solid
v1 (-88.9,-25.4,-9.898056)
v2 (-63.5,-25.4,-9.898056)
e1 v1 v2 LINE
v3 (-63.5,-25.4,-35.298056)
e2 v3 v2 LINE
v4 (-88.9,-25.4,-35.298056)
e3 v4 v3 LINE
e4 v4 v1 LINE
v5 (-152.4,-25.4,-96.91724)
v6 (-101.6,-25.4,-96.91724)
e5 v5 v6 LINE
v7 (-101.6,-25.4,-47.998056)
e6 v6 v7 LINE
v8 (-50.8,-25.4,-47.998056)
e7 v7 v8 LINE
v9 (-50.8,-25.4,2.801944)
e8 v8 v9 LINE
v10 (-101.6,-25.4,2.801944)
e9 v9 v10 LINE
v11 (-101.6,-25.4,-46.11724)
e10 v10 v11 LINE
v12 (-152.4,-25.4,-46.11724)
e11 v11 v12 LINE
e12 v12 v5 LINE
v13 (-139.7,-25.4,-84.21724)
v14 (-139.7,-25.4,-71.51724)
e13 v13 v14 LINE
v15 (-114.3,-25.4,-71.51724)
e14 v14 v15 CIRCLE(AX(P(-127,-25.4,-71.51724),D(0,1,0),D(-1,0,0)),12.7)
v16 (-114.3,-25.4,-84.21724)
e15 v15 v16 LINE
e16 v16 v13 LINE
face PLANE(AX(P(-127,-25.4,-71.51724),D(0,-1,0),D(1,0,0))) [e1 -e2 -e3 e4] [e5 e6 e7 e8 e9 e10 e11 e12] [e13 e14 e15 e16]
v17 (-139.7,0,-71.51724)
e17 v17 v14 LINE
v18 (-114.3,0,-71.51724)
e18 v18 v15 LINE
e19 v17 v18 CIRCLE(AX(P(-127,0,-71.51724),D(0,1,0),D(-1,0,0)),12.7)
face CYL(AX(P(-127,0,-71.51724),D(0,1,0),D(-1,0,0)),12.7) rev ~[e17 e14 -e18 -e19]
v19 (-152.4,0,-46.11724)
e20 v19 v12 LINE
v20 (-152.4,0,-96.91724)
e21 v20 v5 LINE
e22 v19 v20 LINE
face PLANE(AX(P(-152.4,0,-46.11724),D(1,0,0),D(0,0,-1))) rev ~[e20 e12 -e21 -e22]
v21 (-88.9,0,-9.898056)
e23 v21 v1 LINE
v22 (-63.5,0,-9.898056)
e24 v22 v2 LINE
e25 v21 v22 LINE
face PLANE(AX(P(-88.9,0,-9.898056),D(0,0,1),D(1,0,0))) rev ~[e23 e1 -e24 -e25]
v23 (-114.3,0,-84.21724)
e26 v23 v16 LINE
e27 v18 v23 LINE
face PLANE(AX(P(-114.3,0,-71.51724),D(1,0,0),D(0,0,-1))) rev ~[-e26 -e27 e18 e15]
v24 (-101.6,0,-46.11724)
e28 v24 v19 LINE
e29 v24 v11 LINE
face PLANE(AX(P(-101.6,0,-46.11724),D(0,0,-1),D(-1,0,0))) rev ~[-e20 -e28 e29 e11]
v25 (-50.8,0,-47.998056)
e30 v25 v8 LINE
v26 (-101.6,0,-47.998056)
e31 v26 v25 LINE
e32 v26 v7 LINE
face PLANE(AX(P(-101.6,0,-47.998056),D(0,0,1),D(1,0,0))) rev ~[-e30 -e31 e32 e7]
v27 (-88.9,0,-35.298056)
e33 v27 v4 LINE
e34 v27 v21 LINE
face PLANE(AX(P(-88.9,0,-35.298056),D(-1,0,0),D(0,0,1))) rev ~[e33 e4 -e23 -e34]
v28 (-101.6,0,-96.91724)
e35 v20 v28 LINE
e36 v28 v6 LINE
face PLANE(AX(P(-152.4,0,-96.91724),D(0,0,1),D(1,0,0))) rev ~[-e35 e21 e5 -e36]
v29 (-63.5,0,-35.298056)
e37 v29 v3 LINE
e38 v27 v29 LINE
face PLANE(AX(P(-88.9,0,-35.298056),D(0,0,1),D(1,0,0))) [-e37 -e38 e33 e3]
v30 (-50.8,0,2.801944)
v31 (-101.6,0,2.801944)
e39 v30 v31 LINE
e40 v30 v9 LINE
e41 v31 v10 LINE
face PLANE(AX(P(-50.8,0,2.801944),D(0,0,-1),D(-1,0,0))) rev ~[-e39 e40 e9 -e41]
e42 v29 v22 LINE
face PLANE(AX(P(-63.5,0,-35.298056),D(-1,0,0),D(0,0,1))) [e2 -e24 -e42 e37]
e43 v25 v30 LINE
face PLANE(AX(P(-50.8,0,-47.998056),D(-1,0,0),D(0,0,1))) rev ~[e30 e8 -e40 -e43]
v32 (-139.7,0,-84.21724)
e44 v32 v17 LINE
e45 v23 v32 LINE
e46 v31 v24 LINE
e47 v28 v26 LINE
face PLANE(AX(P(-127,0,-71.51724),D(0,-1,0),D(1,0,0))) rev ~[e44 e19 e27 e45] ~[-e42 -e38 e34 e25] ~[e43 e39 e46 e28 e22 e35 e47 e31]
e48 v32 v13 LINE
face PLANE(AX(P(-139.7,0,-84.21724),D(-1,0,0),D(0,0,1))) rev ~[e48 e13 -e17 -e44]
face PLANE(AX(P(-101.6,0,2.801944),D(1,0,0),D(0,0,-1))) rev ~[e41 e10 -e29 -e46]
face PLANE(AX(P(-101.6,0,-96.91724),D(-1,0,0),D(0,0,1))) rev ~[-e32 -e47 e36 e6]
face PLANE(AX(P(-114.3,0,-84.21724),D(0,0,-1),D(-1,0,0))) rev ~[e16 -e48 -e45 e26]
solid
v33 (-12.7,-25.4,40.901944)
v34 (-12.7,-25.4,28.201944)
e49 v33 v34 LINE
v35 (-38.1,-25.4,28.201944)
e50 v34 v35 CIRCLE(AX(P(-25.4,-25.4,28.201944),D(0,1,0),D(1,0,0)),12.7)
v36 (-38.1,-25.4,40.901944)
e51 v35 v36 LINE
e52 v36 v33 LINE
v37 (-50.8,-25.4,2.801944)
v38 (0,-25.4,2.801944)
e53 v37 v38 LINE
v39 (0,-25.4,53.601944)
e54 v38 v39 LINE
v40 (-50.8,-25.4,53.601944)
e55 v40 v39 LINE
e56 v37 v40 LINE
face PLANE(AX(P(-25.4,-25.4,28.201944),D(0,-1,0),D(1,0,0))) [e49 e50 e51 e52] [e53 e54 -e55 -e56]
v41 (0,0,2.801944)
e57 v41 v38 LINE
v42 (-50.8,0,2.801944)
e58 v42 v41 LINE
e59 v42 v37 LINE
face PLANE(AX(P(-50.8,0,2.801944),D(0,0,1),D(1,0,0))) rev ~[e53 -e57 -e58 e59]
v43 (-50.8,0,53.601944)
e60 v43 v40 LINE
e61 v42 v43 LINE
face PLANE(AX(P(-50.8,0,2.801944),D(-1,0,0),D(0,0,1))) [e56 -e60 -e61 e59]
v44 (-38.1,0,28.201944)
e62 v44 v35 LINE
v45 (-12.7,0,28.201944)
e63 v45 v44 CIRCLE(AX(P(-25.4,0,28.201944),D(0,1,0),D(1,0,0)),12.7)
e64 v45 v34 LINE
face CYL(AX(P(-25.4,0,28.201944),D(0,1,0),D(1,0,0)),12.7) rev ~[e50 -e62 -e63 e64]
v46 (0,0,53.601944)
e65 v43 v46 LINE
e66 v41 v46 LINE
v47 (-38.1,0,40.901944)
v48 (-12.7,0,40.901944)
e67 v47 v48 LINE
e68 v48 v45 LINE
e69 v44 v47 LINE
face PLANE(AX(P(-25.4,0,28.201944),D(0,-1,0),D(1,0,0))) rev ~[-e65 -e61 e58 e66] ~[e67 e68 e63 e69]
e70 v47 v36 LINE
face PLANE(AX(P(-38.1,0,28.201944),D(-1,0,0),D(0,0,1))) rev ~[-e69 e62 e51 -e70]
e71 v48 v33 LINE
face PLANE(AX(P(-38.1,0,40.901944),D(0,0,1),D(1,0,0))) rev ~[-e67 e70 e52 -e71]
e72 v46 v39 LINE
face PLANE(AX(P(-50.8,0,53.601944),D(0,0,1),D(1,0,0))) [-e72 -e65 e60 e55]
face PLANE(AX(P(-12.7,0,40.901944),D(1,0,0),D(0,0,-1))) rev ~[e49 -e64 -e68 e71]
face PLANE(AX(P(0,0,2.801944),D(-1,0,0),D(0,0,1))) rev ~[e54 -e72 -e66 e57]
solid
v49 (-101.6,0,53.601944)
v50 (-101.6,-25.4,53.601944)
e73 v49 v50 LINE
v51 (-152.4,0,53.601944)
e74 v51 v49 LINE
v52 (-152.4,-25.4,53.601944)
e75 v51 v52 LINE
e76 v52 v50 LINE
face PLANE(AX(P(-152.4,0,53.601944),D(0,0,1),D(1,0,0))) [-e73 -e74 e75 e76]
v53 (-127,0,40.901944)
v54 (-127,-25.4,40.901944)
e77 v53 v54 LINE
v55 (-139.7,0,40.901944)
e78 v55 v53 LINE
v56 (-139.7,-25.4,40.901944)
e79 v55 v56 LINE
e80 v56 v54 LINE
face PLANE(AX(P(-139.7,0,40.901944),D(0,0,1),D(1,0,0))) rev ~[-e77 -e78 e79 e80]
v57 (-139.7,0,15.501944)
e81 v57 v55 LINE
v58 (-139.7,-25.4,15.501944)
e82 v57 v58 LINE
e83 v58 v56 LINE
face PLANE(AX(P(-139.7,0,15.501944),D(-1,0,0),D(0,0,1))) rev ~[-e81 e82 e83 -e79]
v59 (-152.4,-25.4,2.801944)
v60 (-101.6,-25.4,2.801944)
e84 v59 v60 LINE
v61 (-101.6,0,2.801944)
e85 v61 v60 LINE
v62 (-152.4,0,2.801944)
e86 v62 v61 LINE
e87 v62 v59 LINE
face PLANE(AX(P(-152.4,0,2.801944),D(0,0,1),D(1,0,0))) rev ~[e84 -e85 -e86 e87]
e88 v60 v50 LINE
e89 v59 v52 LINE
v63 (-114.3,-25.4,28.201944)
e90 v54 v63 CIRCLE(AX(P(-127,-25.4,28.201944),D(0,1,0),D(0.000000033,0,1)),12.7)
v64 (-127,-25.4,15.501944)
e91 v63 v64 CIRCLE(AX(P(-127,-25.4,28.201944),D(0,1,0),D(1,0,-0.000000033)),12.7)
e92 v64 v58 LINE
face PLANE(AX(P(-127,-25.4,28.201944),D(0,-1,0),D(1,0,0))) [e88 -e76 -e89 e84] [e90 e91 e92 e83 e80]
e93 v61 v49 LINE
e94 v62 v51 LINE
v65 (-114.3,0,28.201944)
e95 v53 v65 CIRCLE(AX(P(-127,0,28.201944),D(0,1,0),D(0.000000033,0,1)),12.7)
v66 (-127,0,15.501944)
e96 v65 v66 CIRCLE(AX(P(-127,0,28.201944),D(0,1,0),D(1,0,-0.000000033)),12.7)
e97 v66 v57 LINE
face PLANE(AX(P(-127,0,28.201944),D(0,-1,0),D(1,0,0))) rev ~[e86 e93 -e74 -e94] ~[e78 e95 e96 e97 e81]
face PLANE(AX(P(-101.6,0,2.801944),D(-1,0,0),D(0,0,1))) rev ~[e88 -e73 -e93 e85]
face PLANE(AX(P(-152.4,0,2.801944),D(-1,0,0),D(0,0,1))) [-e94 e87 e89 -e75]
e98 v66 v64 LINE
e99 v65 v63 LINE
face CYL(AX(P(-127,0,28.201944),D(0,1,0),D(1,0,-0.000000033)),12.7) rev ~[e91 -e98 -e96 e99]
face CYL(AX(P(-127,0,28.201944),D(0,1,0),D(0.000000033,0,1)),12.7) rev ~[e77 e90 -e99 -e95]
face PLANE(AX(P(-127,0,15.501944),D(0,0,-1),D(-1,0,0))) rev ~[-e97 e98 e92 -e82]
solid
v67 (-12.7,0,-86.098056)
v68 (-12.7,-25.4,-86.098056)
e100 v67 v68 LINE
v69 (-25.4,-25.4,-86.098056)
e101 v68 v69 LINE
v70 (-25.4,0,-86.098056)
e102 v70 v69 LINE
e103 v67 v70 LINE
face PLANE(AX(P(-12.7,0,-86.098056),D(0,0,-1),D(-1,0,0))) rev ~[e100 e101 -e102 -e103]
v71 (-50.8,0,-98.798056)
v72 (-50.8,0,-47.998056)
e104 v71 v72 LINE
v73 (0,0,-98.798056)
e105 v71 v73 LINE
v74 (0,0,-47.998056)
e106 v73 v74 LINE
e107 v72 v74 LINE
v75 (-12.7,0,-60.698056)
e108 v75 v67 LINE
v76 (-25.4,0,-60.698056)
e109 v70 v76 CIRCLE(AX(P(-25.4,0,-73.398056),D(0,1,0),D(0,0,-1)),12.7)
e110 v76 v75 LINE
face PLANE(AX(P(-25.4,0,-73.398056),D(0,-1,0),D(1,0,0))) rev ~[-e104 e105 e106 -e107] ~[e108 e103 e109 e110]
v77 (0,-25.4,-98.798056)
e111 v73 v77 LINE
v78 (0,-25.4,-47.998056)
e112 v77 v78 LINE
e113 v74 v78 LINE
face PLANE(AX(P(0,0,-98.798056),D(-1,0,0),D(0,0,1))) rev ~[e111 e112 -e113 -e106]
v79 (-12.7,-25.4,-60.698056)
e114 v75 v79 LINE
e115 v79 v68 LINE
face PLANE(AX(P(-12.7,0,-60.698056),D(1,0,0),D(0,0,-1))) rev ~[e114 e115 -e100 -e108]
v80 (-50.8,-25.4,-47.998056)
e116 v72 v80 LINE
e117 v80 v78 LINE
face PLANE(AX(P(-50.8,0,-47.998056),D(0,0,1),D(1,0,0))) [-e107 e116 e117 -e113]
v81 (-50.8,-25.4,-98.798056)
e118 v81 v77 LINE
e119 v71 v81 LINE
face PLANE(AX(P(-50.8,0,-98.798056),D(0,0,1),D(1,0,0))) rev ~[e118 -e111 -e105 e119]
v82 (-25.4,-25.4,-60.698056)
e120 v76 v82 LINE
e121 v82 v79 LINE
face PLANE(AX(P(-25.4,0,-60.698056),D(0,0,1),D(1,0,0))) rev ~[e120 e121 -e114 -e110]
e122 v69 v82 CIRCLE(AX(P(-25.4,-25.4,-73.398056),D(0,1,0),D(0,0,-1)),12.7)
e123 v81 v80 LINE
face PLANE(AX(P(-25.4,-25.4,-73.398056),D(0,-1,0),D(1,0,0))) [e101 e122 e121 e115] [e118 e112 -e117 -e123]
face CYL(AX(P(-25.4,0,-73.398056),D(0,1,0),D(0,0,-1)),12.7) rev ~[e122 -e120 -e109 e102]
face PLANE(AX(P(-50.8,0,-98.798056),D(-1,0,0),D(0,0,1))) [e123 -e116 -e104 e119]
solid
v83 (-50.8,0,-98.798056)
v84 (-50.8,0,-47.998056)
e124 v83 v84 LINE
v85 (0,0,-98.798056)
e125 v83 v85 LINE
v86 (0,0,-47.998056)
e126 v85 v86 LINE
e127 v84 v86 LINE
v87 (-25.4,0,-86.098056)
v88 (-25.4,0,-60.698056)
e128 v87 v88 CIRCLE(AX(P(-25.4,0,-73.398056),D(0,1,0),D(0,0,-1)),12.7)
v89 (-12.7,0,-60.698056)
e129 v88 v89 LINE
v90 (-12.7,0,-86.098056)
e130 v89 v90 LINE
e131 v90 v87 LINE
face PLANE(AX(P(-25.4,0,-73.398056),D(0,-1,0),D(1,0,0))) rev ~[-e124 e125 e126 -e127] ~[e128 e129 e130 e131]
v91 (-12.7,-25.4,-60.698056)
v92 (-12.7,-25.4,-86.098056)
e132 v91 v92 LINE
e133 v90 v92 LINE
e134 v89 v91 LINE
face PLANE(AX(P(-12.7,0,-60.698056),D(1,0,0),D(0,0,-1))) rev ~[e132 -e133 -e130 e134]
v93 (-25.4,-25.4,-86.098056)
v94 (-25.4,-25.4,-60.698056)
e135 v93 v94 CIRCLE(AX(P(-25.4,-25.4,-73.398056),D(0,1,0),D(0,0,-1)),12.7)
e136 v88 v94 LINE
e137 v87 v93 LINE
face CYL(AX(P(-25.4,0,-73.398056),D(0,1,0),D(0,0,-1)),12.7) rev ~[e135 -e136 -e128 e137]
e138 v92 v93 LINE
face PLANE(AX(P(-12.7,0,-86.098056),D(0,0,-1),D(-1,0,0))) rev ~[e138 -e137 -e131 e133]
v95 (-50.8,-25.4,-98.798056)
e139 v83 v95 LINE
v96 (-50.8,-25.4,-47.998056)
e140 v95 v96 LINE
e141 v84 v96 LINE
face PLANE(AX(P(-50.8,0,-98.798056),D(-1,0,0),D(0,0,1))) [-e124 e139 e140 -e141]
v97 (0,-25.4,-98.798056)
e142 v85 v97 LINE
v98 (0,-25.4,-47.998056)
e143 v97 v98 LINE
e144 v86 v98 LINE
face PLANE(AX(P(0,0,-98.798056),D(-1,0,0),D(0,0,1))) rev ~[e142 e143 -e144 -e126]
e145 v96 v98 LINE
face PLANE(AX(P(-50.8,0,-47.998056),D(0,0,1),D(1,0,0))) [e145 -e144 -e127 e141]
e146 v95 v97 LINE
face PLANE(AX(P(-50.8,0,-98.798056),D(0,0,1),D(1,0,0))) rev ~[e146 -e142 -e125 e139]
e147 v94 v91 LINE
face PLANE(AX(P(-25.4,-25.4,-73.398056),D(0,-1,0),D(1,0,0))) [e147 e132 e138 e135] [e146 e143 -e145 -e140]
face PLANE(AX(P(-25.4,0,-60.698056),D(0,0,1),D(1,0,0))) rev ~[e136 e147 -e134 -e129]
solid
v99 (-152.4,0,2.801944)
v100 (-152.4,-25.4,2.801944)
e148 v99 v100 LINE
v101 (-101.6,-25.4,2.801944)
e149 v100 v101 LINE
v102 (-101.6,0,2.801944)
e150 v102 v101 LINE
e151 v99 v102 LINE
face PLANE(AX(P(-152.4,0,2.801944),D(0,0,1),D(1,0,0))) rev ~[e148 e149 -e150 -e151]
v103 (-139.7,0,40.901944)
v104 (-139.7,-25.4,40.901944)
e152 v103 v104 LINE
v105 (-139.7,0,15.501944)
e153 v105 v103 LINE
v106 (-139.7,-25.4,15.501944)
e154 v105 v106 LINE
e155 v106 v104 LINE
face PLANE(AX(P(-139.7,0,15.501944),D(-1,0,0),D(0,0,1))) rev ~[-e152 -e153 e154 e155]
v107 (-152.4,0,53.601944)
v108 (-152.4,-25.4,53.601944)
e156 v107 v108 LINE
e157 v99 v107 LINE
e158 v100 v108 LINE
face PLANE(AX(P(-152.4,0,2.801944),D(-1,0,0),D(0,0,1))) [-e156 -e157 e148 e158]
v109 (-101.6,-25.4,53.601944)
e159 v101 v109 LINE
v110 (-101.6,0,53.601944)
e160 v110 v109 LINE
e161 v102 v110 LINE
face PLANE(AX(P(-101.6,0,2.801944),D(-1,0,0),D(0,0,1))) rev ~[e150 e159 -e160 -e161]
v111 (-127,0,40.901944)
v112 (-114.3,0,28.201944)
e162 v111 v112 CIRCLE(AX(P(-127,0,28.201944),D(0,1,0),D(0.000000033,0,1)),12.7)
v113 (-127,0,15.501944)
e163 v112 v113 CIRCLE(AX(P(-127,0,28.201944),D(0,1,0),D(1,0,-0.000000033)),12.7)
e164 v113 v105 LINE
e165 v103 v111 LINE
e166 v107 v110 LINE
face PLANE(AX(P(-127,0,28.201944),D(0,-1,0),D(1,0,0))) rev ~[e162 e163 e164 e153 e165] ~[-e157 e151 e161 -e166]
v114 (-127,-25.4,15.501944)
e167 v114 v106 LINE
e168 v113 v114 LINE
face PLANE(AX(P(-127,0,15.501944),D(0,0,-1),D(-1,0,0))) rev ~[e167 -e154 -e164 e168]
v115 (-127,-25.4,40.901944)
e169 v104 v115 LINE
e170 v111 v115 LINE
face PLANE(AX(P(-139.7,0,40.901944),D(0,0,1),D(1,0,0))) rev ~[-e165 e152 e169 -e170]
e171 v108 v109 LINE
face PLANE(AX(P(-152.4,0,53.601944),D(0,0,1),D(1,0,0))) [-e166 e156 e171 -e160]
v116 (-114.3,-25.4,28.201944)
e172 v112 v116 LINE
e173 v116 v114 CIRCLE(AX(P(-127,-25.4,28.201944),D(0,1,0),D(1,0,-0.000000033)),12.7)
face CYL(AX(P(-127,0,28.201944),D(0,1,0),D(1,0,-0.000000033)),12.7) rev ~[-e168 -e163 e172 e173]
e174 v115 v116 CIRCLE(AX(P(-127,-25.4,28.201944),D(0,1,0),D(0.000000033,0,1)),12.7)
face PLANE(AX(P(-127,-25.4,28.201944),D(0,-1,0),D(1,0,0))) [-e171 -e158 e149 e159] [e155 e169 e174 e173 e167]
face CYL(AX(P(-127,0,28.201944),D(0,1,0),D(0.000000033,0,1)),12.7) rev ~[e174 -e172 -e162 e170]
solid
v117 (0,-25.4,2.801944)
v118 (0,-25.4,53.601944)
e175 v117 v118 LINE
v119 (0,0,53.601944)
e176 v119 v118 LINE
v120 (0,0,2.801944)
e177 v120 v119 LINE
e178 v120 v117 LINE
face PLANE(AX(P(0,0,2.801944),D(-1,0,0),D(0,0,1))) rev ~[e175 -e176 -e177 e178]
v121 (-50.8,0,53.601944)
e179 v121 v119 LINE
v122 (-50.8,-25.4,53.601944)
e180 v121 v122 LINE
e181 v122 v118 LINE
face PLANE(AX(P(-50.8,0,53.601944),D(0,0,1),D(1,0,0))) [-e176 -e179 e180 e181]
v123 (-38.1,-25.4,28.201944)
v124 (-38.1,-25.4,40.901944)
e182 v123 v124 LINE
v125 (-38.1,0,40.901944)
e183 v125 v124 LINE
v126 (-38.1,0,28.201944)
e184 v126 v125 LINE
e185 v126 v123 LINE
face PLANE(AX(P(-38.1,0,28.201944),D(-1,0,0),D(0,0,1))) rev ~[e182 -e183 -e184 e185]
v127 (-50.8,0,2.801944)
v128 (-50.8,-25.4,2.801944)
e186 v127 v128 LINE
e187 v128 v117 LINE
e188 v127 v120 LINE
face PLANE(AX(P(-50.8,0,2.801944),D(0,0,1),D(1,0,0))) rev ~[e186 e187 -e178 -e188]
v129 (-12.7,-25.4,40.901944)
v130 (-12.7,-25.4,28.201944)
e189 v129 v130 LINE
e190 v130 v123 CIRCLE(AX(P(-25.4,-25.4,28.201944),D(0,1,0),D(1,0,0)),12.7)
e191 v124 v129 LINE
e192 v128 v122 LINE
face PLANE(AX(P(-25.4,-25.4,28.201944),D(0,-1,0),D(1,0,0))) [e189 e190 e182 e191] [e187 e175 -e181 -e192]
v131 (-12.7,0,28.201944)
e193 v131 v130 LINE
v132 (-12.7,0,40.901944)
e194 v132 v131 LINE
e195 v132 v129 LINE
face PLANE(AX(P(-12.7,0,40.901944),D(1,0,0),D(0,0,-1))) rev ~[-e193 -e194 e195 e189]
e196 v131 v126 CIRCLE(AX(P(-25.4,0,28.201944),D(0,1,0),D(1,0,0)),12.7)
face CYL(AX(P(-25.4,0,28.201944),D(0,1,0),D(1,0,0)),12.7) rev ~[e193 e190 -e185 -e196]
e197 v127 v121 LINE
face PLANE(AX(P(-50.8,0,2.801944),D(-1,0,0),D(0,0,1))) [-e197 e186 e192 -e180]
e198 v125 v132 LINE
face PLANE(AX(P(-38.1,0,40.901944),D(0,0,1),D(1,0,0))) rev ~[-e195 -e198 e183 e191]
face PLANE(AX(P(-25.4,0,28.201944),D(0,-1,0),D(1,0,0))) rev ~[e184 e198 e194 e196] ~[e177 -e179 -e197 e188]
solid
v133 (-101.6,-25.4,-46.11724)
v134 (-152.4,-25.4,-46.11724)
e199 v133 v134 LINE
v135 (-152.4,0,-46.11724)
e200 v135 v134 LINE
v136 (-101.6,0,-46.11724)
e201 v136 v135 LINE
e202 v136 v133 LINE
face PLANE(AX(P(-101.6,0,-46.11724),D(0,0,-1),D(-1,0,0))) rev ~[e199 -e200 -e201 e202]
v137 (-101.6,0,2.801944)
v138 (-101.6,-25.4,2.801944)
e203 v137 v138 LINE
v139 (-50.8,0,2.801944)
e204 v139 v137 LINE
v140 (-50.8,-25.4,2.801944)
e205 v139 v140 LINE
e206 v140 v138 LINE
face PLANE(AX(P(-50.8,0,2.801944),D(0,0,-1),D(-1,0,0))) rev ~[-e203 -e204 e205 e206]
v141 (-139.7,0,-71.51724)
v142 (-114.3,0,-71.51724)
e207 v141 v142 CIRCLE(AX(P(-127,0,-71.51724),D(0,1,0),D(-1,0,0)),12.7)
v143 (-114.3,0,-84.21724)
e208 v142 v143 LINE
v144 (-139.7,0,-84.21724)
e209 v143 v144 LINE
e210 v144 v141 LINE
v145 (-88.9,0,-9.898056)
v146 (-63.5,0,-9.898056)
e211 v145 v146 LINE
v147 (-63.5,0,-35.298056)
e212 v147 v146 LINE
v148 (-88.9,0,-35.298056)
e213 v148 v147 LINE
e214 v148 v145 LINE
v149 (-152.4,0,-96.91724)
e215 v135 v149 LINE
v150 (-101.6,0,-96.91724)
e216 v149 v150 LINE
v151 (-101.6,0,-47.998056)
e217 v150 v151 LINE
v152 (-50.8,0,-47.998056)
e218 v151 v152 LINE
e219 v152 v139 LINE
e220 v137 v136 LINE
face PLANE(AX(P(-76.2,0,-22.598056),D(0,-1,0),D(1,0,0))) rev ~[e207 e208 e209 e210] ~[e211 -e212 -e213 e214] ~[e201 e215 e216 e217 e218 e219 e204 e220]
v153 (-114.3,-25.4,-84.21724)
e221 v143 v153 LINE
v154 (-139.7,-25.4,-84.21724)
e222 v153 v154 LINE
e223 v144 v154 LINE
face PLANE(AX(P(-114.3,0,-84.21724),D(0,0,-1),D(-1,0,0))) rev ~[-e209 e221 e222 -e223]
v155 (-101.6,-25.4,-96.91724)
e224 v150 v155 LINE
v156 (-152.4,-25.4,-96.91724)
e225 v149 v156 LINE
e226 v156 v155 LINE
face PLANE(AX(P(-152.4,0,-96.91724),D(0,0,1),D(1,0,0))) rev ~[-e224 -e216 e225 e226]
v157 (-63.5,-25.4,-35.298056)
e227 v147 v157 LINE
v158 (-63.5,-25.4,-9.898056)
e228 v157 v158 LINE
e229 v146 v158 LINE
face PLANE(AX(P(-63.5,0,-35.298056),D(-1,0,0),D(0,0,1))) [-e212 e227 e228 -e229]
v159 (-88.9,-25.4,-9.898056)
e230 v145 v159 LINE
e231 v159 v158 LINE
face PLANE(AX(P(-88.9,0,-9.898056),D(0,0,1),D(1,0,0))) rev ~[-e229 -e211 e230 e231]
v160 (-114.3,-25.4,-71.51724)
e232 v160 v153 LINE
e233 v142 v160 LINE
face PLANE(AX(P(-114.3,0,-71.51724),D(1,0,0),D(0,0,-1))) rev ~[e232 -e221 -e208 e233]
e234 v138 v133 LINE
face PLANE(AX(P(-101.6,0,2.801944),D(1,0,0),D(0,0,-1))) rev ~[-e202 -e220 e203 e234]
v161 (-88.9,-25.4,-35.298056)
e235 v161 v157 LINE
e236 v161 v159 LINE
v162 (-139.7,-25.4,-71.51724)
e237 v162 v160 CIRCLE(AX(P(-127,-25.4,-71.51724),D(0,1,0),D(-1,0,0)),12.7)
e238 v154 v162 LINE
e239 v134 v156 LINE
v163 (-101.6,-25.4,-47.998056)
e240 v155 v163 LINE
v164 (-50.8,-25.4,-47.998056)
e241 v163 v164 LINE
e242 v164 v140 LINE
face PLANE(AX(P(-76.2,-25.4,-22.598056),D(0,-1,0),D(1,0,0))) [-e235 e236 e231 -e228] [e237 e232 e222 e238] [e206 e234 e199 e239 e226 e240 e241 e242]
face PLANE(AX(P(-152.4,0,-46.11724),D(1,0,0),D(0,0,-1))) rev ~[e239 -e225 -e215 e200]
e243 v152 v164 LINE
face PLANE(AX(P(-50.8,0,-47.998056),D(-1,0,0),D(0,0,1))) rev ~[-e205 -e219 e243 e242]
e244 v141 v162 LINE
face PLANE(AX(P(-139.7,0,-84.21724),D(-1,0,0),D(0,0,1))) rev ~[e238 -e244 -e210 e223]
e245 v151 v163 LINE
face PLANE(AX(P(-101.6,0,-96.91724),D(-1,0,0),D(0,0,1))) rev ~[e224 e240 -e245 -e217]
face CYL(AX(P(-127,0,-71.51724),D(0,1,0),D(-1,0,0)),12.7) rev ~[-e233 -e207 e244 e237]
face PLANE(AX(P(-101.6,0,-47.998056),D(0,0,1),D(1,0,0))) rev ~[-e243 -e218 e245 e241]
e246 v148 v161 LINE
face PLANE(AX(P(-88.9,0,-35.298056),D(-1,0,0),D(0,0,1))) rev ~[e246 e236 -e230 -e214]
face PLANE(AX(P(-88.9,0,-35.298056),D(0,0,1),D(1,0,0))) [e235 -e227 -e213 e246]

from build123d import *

# Parameters (mm, degrees)
F0_W     = 50.8
F0_H     = 50.8
F0_W_2   = 25.4
F0_H_2   = 25.4
F1_DEPTH = 25.4
F2_DEPTH = 25.4


with BuildPart() as f1:
    # F0 (on Front) → F1 (new body)
    with BuildSketch(Plane.XZ):
        with Locations((-25.4, 28.201944)):
            Rectangle(F0_W, F0_H)
        with BuildLine():
            Line((-25.4, 40.901944), (-12.7, 40.901944))
            Line((-12.7, 40.901944), (-12.7, 28.201944))
            ThreePointArc((-12.7, 28.201944), (-25.4, 15.501944), (-38.1, 28.201944))
            Line((-38.1, 28.201944), (-38.1, 40.901944))
            Line((-38.1, 40.901944), (-25.4, 40.901944))
        make_face(mode=Mode.SUBTRACT)
        with Locations((-25.4, -73.398056)):
            Rectangle(F0_W, F0_H)
        with BuildLine():
            Line((-25.4, -60.698056), (-12.7, -60.698056))
            Line((-12.7, -60.698056), (-12.7, -73.398056))
            Line((-12.7, -73.398056), (-12.7, -86.098056))
            Line((-12.7, -86.098056), (-25.4, -86.098056))
            ThreePointArc((-25.4, -86.098056), (-38.1, -73.398056), (-25.4, -60.698056))
        make_face(mode=Mode.SUBTRACT)
        with Locations((-127, 28.201944)):
            Rectangle(F0_W, F0_H)
        with BuildLine():
            Line((-139.7, 40.901944), (-127, 40.901944))
            ThreePointArc((-127, 40.901944), (-118.019744, 37.1822), (-114.3, 28.201944))
            ThreePointArc((-114.3, 28.201944), (-118.019744, 19.221688), (-127, 15.501944))
            Line((-127, 15.501944), (-139.7, 15.501944))
            Line((-139.7, 15.501944), (-139.7, 28.201944))
            Line((-139.7, 28.201944), (-139.7, 40.901944))
        make_face(mode=Mode.SUBTRACT)
        Polygon((-101.6, -47.998056), (-101.6, -46.11724), (-152.4, -46.11724), (-152.4, -96.91724), (-101.6, -96.91724), align=None)
        with BuildLine():
            Line((-114.3, -71.51724), (-114.3, -84.21724))
            Line((-114.3, -84.21724), (-127, -84.21724))
            Line((-127, -84.21724), (-139.7, -84.21724))
            Line((-139.7, -84.21724), (-139.7, -71.51724))
            ThreePointArc((-139.7, -71.51724), (-127, -58.81724), (-114.3, -71.51724))
        make_face(mode=Mode.SUBTRACT)
        Polygon((-50.8, -47.998056), (-50.8, 2.801944), (-101.6, 2.801944), (-101.6, -46.11724), (-101.6, -47.998056), align=None)
        with Locations((-76.2, -22.598056)):
            Rectangle(F0_W_2, F0_H_2, mode=Mode.SUBTRACT)
    extrude(amount=F1_DEPTH)


with BuildPart() as f2:
    # F0 (on Front) → F2 (new body)
    with BuildSketch(Plane.XZ):
        with Locations((-25.4, 28.201944)):
            Rectangle(F0_W, F0_H)
        with BuildLine():
            Line((-25.4, 40.901944), (-12.7, 40.901944))
            Line((-12.7, 40.901944), (-12.7, 28.201944))
            ThreePointArc((-12.7, 28.201944), (-25.4, 15.501944), (-38.1, 28.201944))
            Line((-38.1, 28.201944), (-38.1, 40.901944))
            Line((-38.1, 40.901944), (-25.4, 40.901944))
        make_face(mode=Mode.SUBTRACT)
        Polygon((-50.8, -47.998056), (-50.8, 2.801944), (-101.6, 2.801944), (-101.6, -46.11724), (-101.6, -47.998056), align=None)
        with Locations((-76.2, -22.598056)):
            Rectangle(F0_W_2, F0_H_2, mode=Mode.SUBTRACT)
        with Locations((-25.4, -73.398056)):
            Rectangle(F0_W, F0_H)
        with BuildLine():
            Line((-25.4, -60.698056), (-12.7, -60.698056))
            Line((-12.7, -60.698056), (-12.7, -73.398056))
            Line((-12.7, -73.398056), (-12.7, -86.098056))
            Line((-12.7, -86.098056), (-25.4, -86.098056))
            ThreePointArc((-25.4, -86.098056), (-38.1, -73.398056), (-25.4, -60.698056))
        make_face(mode=Mode.SUBTRACT)
        with Locations((-127, 28.201944)):
            Rectangle(F0_W, F0_H)
        with BuildLine():
            Line((-139.7, 40.901944), (-127, 40.901944))
            ThreePointArc((-127, 40.901944), (-118.019744, 37.1822), (-114.3, 28.201944))
            ThreePointArc((-114.3, 28.201944), (-118.019744, 19.221688), (-127, 15.501944))
            Line((-127, 15.501944), (-139.7, 15.501944))
            Line((-139.7, 15.501944), (-139.7, 28.201944))
            Line((-139.7, 28.201944), (-139.7, 40.901944))
        make_face(mode=Mode.SUBTRACT)
        Polygon((-101.6, -47.998056), (-101.6, -46.11724), (-152.4, -46.11724), (-152.4, -96.91724), (-101.6, -96.91724), align=None)
        with BuildLine():
            Line((-114.3, -71.51724), (-114.3, -84.21724))
            Line((-114.3, -84.21724), (-127, -84.21724))
            Line((-127, -84.21724), (-139.7, -84.21724))
            Line((-139.7, -84.21724), (-139.7, -71.51724))
            ThreePointArc((-139.7, -71.51724), (-127, -58.81724), (-114.3, -71.51724))
        make_face(mode=Mode.SUBTRACT)
    extrude(amount=F2_DEPTH)


solid = Compound([f1.part, f2.part])
